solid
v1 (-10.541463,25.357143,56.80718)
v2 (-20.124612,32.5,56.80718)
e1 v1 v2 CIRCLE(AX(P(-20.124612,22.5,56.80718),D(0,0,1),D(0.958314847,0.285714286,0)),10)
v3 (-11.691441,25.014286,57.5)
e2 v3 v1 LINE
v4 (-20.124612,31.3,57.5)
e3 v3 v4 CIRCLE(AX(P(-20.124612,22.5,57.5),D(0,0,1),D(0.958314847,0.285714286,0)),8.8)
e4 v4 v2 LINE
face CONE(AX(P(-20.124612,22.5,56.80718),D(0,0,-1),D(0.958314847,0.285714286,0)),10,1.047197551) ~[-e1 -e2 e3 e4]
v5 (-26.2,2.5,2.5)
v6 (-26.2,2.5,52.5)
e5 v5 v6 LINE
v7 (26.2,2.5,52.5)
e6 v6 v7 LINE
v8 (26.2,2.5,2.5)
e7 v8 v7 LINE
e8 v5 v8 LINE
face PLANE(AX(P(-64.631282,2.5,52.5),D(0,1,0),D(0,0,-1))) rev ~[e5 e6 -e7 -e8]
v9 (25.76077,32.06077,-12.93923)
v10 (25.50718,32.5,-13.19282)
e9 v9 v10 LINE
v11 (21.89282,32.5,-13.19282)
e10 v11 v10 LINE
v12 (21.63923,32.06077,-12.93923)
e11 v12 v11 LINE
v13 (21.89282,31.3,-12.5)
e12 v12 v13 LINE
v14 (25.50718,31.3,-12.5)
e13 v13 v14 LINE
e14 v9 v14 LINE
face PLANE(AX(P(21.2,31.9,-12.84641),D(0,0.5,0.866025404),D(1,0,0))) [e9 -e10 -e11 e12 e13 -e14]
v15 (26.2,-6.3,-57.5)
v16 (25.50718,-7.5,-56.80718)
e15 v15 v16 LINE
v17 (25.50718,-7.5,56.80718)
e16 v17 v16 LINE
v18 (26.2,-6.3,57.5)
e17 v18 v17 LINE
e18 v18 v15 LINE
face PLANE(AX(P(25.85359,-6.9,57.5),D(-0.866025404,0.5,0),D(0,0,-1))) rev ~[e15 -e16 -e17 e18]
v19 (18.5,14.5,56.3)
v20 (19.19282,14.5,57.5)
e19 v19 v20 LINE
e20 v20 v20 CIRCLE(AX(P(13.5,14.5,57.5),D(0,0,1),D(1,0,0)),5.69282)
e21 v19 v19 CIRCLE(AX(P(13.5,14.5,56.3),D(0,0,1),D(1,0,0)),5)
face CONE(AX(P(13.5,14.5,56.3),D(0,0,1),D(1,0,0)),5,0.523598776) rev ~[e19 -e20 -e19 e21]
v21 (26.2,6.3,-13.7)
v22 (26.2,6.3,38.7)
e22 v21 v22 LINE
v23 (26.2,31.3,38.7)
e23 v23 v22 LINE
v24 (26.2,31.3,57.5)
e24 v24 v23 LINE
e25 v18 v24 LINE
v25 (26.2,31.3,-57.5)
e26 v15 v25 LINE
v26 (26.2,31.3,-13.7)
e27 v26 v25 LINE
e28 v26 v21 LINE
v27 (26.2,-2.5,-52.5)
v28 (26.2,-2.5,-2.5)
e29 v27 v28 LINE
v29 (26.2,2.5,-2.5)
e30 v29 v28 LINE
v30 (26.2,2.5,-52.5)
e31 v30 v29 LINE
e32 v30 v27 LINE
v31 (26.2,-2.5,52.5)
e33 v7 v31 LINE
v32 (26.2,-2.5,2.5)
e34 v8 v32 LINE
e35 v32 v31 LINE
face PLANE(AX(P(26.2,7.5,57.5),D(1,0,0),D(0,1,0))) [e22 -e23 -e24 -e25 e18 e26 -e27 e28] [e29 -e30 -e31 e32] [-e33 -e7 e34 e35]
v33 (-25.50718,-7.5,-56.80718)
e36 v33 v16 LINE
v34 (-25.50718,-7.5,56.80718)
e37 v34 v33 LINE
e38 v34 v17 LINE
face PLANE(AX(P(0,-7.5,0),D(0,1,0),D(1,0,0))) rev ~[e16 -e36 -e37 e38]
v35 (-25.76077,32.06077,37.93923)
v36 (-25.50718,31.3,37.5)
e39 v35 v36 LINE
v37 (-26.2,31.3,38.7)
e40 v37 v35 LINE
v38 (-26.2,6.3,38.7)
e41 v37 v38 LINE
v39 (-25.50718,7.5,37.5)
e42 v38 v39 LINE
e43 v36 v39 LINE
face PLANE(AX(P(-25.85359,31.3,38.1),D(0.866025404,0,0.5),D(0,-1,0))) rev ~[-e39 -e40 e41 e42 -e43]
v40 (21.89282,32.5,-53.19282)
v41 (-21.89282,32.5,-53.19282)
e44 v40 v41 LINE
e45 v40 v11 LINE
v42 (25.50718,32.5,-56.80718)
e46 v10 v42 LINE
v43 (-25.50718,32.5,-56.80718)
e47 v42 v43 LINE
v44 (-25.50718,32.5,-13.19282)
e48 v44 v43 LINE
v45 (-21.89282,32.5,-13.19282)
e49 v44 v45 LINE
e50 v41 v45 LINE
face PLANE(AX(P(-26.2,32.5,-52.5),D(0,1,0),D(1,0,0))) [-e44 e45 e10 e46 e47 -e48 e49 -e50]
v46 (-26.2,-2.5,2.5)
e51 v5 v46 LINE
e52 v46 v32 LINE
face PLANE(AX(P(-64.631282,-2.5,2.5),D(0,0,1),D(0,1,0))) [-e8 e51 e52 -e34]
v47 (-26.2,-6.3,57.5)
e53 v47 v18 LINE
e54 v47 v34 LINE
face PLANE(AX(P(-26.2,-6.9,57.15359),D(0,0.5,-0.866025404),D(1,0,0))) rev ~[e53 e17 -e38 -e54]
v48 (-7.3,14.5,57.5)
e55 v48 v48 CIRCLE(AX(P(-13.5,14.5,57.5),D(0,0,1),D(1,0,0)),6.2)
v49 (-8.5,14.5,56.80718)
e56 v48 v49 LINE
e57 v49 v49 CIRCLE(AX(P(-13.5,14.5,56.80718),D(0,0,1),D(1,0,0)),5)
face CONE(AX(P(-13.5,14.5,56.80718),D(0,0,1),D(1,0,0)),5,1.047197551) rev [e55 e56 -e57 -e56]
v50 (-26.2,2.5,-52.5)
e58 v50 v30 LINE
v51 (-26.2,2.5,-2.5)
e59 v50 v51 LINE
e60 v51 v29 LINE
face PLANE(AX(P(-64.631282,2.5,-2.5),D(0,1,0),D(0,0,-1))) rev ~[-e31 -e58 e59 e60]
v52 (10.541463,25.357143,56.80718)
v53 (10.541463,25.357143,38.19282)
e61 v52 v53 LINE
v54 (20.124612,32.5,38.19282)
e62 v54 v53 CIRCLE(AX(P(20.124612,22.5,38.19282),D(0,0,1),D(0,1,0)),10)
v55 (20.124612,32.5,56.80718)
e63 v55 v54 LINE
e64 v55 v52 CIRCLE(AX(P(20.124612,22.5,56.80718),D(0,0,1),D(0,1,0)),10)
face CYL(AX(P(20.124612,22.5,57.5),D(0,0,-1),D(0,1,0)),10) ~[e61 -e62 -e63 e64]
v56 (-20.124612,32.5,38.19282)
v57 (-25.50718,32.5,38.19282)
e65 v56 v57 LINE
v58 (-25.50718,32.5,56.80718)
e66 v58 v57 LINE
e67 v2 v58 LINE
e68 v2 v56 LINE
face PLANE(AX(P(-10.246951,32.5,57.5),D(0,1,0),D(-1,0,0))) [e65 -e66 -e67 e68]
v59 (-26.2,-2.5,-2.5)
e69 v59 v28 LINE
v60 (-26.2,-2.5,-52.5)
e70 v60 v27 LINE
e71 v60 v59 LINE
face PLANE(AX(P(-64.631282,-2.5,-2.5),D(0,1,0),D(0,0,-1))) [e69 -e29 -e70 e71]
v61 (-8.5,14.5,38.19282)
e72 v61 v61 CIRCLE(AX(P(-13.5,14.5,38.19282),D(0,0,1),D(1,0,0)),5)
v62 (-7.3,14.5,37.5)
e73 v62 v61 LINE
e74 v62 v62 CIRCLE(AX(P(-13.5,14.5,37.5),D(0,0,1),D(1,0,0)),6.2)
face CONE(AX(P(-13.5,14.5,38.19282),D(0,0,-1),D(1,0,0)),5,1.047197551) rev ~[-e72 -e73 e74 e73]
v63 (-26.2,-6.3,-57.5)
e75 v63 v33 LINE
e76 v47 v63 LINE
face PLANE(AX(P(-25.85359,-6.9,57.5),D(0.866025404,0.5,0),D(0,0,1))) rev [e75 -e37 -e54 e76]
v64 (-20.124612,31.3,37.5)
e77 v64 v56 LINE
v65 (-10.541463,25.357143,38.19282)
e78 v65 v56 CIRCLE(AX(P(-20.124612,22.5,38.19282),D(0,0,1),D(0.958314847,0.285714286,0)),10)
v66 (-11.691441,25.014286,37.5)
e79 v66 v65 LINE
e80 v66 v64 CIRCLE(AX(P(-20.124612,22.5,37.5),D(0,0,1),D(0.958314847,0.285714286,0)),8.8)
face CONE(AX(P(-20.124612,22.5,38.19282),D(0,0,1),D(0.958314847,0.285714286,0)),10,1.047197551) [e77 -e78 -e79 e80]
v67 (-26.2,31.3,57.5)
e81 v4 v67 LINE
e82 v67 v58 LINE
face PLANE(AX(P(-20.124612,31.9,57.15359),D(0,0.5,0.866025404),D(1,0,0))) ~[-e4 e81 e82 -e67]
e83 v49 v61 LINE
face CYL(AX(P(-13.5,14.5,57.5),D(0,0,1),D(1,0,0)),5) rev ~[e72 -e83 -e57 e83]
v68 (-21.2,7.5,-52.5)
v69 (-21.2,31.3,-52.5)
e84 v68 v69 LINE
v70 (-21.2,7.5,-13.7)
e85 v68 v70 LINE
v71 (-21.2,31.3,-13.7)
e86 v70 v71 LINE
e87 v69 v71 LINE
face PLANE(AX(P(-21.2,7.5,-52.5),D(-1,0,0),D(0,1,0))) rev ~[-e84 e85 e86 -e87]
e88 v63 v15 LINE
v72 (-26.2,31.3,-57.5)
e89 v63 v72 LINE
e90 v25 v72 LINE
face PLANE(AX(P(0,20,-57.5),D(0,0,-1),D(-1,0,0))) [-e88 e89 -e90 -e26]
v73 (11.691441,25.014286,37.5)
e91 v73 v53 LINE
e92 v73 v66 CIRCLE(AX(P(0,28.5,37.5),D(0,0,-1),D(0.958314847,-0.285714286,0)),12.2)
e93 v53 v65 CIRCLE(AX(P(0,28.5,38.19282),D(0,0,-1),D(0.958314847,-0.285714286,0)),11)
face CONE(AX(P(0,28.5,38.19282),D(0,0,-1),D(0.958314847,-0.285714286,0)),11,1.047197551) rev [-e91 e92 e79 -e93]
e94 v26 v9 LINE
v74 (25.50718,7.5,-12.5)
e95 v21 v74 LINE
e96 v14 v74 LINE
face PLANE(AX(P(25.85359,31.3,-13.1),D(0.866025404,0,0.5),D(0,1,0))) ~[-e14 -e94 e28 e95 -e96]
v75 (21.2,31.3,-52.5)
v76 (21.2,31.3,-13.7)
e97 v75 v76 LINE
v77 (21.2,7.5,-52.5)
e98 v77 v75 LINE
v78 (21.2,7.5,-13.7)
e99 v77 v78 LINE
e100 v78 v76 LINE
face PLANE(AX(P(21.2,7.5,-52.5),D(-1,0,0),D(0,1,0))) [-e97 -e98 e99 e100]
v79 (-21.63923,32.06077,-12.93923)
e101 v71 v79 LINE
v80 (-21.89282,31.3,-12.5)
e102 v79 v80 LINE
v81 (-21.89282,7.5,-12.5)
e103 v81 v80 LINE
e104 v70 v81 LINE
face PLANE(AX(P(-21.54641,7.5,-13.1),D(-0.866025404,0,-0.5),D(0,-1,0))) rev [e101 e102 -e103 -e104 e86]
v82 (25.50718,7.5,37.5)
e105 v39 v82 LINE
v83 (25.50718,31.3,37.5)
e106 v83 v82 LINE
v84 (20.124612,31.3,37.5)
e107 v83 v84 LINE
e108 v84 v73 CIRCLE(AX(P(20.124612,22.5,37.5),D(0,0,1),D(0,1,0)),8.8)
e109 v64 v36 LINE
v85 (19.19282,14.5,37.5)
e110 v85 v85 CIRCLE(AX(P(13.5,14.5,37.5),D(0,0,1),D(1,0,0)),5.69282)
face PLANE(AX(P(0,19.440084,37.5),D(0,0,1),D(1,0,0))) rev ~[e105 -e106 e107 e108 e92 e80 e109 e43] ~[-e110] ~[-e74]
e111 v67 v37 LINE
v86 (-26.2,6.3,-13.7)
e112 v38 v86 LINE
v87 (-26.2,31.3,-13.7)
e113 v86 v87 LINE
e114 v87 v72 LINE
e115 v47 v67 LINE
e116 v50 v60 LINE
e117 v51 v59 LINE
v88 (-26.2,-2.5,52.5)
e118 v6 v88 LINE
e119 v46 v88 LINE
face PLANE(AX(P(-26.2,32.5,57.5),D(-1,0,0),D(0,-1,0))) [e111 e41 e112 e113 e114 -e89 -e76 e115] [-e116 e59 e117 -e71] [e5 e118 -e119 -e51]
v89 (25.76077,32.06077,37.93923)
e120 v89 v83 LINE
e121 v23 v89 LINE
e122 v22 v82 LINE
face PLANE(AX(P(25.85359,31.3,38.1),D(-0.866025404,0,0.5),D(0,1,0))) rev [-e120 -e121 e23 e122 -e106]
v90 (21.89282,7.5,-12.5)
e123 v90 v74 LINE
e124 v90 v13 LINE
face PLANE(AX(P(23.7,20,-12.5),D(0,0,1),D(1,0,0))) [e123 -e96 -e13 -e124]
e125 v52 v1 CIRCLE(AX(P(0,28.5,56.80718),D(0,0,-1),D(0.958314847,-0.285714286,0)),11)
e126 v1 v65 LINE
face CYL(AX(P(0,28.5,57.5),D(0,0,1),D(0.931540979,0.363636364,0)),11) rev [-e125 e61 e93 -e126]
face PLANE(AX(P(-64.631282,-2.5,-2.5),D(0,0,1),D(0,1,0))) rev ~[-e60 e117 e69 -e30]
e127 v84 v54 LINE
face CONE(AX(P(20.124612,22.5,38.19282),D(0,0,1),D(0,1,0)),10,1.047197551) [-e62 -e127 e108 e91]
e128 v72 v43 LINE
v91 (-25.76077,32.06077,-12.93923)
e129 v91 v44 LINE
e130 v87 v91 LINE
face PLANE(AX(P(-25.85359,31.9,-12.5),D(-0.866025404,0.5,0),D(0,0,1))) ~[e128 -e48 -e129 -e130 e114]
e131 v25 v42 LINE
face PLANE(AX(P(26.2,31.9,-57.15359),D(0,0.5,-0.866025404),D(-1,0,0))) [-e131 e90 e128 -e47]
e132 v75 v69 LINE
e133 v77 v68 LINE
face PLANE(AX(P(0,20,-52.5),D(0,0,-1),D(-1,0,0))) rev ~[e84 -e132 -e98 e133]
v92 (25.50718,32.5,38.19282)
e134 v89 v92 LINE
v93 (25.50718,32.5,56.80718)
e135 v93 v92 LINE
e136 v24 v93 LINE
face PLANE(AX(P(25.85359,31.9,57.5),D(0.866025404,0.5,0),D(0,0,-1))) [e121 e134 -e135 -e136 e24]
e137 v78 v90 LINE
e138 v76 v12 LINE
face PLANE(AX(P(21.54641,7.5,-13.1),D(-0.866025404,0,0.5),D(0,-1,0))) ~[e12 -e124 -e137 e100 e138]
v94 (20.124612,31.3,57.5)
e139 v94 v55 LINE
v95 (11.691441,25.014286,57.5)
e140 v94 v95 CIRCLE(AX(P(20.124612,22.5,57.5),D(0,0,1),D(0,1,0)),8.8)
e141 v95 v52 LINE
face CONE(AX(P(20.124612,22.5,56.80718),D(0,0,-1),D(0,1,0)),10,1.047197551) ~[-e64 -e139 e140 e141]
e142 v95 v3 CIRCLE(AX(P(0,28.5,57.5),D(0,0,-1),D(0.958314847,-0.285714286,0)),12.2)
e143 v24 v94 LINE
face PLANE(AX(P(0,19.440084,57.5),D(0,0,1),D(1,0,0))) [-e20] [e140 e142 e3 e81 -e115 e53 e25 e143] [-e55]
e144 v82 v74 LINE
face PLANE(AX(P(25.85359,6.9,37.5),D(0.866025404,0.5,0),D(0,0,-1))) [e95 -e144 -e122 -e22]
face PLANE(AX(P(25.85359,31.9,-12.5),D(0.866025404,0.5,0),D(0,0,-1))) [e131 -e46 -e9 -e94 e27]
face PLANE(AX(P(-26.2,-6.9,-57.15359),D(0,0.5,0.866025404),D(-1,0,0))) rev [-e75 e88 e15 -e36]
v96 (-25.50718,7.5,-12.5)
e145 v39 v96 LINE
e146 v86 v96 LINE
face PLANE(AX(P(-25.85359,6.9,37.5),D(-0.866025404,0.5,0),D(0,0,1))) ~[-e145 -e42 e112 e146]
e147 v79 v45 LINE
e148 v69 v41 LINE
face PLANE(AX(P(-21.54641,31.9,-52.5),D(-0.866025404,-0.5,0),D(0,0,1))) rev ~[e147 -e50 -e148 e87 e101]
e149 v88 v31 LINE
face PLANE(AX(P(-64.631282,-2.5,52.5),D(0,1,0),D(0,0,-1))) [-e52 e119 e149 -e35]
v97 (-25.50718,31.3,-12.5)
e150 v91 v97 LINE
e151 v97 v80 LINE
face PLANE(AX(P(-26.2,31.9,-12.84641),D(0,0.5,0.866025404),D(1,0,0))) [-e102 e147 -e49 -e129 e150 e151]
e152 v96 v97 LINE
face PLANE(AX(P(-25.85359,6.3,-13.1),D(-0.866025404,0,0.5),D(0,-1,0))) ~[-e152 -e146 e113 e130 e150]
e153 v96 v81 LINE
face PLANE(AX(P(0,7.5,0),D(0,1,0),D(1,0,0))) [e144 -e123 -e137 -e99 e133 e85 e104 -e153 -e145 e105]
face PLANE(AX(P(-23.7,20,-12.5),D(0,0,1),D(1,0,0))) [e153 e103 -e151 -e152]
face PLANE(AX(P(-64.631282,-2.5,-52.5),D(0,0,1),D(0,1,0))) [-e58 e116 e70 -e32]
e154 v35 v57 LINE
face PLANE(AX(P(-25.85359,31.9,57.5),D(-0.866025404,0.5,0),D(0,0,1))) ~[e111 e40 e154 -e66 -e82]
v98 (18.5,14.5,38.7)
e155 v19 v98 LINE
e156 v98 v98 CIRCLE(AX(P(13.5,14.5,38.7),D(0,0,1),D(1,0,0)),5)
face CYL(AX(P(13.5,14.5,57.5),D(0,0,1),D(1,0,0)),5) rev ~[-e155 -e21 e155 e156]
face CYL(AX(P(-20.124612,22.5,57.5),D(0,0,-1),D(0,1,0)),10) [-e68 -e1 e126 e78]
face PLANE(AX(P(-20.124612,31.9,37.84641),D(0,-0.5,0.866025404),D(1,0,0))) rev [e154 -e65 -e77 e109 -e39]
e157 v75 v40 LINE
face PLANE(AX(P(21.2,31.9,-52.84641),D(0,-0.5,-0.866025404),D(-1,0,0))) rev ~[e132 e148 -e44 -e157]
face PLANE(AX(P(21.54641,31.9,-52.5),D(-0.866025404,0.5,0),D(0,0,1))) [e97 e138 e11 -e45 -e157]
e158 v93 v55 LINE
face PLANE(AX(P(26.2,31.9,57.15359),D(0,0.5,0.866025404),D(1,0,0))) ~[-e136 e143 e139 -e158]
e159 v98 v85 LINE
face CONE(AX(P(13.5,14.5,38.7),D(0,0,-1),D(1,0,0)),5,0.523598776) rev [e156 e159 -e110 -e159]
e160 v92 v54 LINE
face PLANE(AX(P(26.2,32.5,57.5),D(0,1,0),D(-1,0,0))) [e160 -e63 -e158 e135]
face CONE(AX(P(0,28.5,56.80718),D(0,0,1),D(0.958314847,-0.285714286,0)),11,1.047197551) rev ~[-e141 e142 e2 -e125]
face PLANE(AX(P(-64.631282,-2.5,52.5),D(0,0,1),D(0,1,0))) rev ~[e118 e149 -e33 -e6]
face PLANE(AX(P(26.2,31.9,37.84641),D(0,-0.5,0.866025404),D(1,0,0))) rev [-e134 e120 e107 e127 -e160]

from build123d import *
from OCP.BRepFilletAPI import BRepFilletAPI_MakeChamfer

# Parameters (mm, degrees)
SKETCH_1_W               = 52.4
SKETCH_1_H               = 115
EXTRUDE_1_DEPTH          = 7.5
CUT_EXTRUDE_1_DEPTH      = 64.631281615
CUT_EXTRUDE_1_DEPTH_BACK = 64.631281615
SKETCH_2_W               = 50
SKETCH_2_H               = 5
SKETCH_3_W               = 52.4
SKETCH_3_H               = 25
EXTRUDE_2_DEPTH          = 5
SKETCH_4_W               = 5
SKETCH_4_H               = 25
EXTRUDE_3_DEPTH          = 40
EXTRUDE_4_DEPTH          = 20
FILLET_1_R               = 10
SKETCH_7_R               = 5
CUT_EXTRUDE_2_DEPTH      = 20
CHAMFER_1_SIZE           = 1.2
CHAMFER_1_SIZE2          = 0.692820323
CHAMFER_2_SIZE           = 1.2
CHAMFER_2_SIZE2          = 0.692820323
CHAMFER_3_SIZE           = 1.2
CHAMFER_3_SIZE2          = 0.692820323
CHAMFER_4_SIZE           = 1.2
CHAMFER_4_SIZE2          = 0.692820323


with BuildPart() as part:
    # 스케치1 → 보스-돌출1 (new, symmetric)
    with BuildSketch(Plane(origin=(0, 0, 0), x_dir=(1, 0, 0), z_dir=(0, 1, 0))):
        Rectangle(SKETCH_1_W, SKETCH_1_H)
    extrude(amount=EXTRUDE_1_DEPTH, both=True)

    # 스케치2 → 컷-돌출1 (cut, two sides: drawn at the far end of the back side and taken through both)
    with BuildSketch(Plane(origin=(0, 0, 0), x_dir=(0, 0, -1), z_dir=(1, 0, 0)).offset(-CUT_EXTRUDE_1_DEPTH_BACK)):
        with Locations((27.5, 0)):
            Rectangle(SKETCH_2_W, SKETCH_2_H)
        with Locations((-27.5, 0)):
            Rectangle(SKETCH_2_W, SKETCH_2_H)
    extrude(amount=CUT_EXTRUDE_1_DEPTH + CUT_EXTRUDE_1_DEPTH_BACK, mode=Mode.SUBTRACT)

    # 스케치3 → 보스-돌출2 (add)
    with BuildSketch(Plane(origin=(0, 0, -57.5), x_dir=(-1, 0, 0), z_dir=(0, 0, -1))):
        with Locations((0, 20)):
            Rectangle(SKETCH_3_W, SKETCH_3_H)
    extrude(amount=-EXTRUDE_2_DEPTH)

    # 스케치4 → 보스-돌출3 (add)
    with BuildSketch(Plane.XY.offset(-52.5)):
        with Locations((-23.7, 20)):
            Rectangle(SKETCH_4_W, SKETCH_4_H)
        with Locations((23.7, 20)):
            Rectangle(SKETCH_4_W, SKETCH_4_H)
    extrude(amount=EXTRUDE_3_DEPTH)

    # 스케치5 → 보스-돌출4 (add)
    with BuildSketch(Plane.XY.offset(57.5)):
        with BuildLine():
            Line((-10.246950766, 32.5), (-26.2, 32.5))
            Line((-26.2, 32.5), (-26.2, 7.5))
            Line((-26.2, 7.5), (26.2, 7.5))
            Line((26.2, 7.5), (26.2, 32.5))
            Line((26.2, 32.5), (10.246950766, 32.5))
            ThreePointArc((10.246950766, 32.5), (0, 17.5), (-10.246950766, 32.5))
        make_face()
    extrude(amount=-EXTRUDE_4_DEPTH)

    # 필렛1
    fillet_1_edges = [part.edges().sort_by_distance(p)[0] for p in [
        (-10.246950766, 32.5, 47.5),
        (10.246950766, 32.5, 47.5),
    ]]
    fillet(fillet_1_edges, radius=FILLET_1_R)

    # 스케치7 → 컷-돌출2 (cut)
    with BuildSketch(Plane.XY.offset(57.5)):
        with Locations((-13.5, 14.5)):
            Circle(SKETCH_7_R)
        with Locations((13.5, 14.5)):
            Circle(SKETCH_7_R)
    extrude(amount=-CUT_EXTRUDE_2_DEPTH, mode=Mode.SUBTRACT)

    # 모따기1: one chamfer whose edges measure the first distance from different faces: ONE call of the kernel's chamfer builder (chamfer() names one face for all edges)
    chamfer_1_edges_1 = [part.edges().sort_by_distance(p)[0] for p in [
        (-23.162305899, 32.5, 57.5),
        (-14.148468751, 30.517837257, 57.5),
        (14.148468751, 30.517837257, 57.5),
        (0, -7.5, 57.5),
        (23.162305899, 32.5, 57.5),
        (0, 17.5, 57.5),
    ]]
    chamfer_1_side_1 = [part.faces().sort_by_distance(p)[0] for p in [
        (0, 9.670777652, 57.5),
    ]]
    chamfer_1_edges_2 = [part.edges().sort_by_distance(p)[0] for p in [
        (0, 17.5, 37.5),
        (-23.162305899, 32.5, 37.5),
        (-14.148468751, 30.517837257, 37.5),
        (14.148468751, 30.517837257, 37.5),
        (23.162305899, 32.5, 37.5),
    ]]
    chamfer_1_side_2 = [part.faces().sort_by_distance(p)[0] for p in [
        (-23.162305899, 31.919417534, 37.5),
    ]]
    chamfer_1_edges_3 = [part.edges().sort_by_distance(p)[0] for p in [
        (26.2, 32.5, -35),
        (26.2, -7.5, 0),
        (26.2, 32.5, 47.5),
    ]]
    chamfer_1_side_3 = [part.faces().sort_by_distance(p)[0] for p in [
        (26.2, 12.5, 56.282420434),
    ]]
    chamfer_1_edges_4 = [part.edges().sort_by_distance(p)[0] for p in [
        (-26.2, 32.5, -35),
        (-26.2, -7.5, 0),
        (-26.2, 32.5, 47.5),
    ]]
    chamfer_1_side_4 = [part.faces().sort_by_distance(p)[0] for p in [
        (-26.2, -6.282420434, 0),
    ]]
    chamfer_1_edges_5 = [part.edges().sort_by_distance(p)[0] for p in [
        (0, 32.5, -57.5),
        (0, -7.5, -57.5),
    ]]
    chamfer_1_side_5 = [part.faces().sort_by_distance(p)[0] for p in [
        (0, 12.5, -57.5),
    ]]
    chamfer_1_edges_6 = [part.edges().sort_by_distance(p)[0] for p in [
        (0, 32.5, -52.5),
    ]]
    chamfer_1_side_6 = [part.faces().sort_by_distance(p)[0] for p in [
        (0, 20, -52.5),
    ]]
    chamfer_1_edges_7 = [part.edges().sort_by_distance(p)[0] for p in [
        (-21.2, 32.5, -32.5),
    ]]
    chamfer_1_side_7 = [part.faces().sort_by_distance(p)[0] for p in [
        (-21.2, 20, -32.5),
    ]]
    chamfer_1_edges_8 = [part.edges().sort_by_distance(p)[0] for p in [
        (-23.7, 32.5, -12.5),
    ]]
    chamfer_1_side_8 = [part.faces().sort_by_distance(p)[0] for p in [
        (-23.7, 20, -12.5),
    ]]
    chamfer_1_edges_9 = [part.edges().sort_by_distance(p)[0] for p in [
        (21.2, 32.5, -32.5),
    ]]
    chamfer_1_side_9 = [part.faces().sort_by_distance(p)[0] for p in [
        (21.2, 20, -32.5),
    ]]
    chamfer_1_edges_10 = [part.edges().sort_by_distance(p)[0] for p in [
        (23.7, 32.5, -12.5),
    ]]
    chamfer_1_side_10 = [part.faces().sort_by_distance(p)[0] for p in [
        (23.7, 20, -12.5),
    ]]
    chamfer_1 = BRepFilletAPI_MakeChamfer(part.part.solid().wrapped)
    for e in chamfer_1_edges_1:
        chamfer_1.Add(CHAMFER_1_SIZE, CHAMFER_1_SIZE2, e.wrapped, chamfer_1_side_1[0].wrapped)  # the first distance lies on this face
    for e in chamfer_1_edges_2:
        chamfer_1.Add(CHAMFER_1_SIZE, CHAMFER_1_SIZE2, e.wrapped, chamfer_1_side_2[0].wrapped)  # the first distance lies on this face
    for e in chamfer_1_edges_3:
        chamfer_1.Add(CHAMFER_1_SIZE, CHAMFER_1_SIZE2, e.wrapped, chamfer_1_side_3[0].wrapped)  # the first distance lies on this face
    for e in chamfer_1_edges_4:
        chamfer_1.Add(CHAMFER_1_SIZE, CHAMFER_1_SIZE2, e.wrapped, chamfer_1_side_4[0].wrapped)  # the first distance lies on this face
    for e in chamfer_1_edges_5:
        chamfer_1.Add(CHAMFER_1_SIZE, CHAMFER_1_SIZE2, e.wrapped, chamfer_1_side_5[0].wrapped)  # the first distance lies on this face
    for e in chamfer_1_edges_6:
        chamfer_1.Add(CHAMFER_1_SIZE, CHAMFER_1_SIZE2, e.wrapped, chamfer_1_side_6[0].wrapped)  # the first distance lies on this face
    for e in chamfer_1_edges_7:
        chamfer_1.Add(CHAMFER_1_SIZE, CHAMFER_1_SIZE2, e.wrapped, chamfer_1_side_7[0].wrapped)  # the first distance lies on this face
    for e in chamfer_1_edges_8:
        chamfer_1.Add(CHAMFER_1_SIZE, CHAMFER_1_SIZE2, e.wrapped, chamfer_1_side_8[0].wrapped)  # the first distance lies on this face
    for e in chamfer_1_edges_9:
        chamfer_1.Add(CHAMFER_1_SIZE, CHAMFER_1_SIZE2, e.wrapped, chamfer_1_side_9[0].wrapped)  # the first distance lies on this face
    for e in chamfer_1_edges_10:
        chamfer_1.Add(CHAMFER_1_SIZE, CHAMFER_1_SIZE2, e.wrapped, chamfer_1_side_10[0].wrapped)  # the first distance lies on this face
    add(Compound.cast(chamfer_1.Shape()), mode=Mode.REPLACE)

    # 모따기2: one chamfer whose edges measure the first distance from different faces: ONE call of the kernel's chamfer builder (chamfer() names one face for all edges)
    chamfer_2_edges_1 = [part.edges().sort_by_distance(p)[0] for p in [
        (-18.5, 14.5, 37.5),
    ]]
    chamfer_2_side_1 = [part.faces().sort_by_distance(p)[0] for p in [
        (-25.624482841, 19.4, 37.5),
    ]]
    chamfer_2_edges_2 = [part.edges().sort_by_distance(p)[0] for p in [
        (-18.5, 14.5, 57.5),
    ]]
    chamfer_2_side_2 = [part.faces().sort_by_distance(p)[0] for p in [
        (0, 9.52416619, 57.5),
    ]]
    chamfer_2_edges_3 = [part.edges().sort_by_distance(p)[0] for p in [
        (8.5, 14.5, 37.5),
        (8.5, 14.5, 57.5),
    ]]
    chamfer_2_side_3 = [part.faces().sort_by_distance(p)[0] for p in [
        (8.5, 14.5, 47.5),
    ]]
    chamfer_2 = BRepFilletAPI_MakeChamfer(part.part.solid().wrapped)
    for e in chamfer_2_edges_1:
        chamfer_2.Add(CHAMFER_2_SIZE, CHAMFER_2_SIZE2, e.wrapped, chamfer_2_side_1[0].wrapped)  # the first distance lies on this face
    for e in chamfer_2_edges_2:
        chamfer_2.Add(CHAMFER_2_SIZE, CHAMFER_2_SIZE2, e.wrapped, chamfer_2_side_2[0].wrapped)  # the first distance lies on this face
    for e in chamfer_2_edges_3:
        chamfer_2.Add(CHAMFER_2_SIZE, CHAMFER_2_SIZE2, e.wrapped, chamfer_2_side_3[0].wrapped)  # the first distance lies on this face
    add(Compound.cast(chamfer_2.Shape()), mode=Mode.REPLACE)

    # 모따기3: one chamfer whose edges measure the first distance from different faces: ONE call of the kernel's chamfer builder (chamfer() names one face for all edges)
    chamfer_3_edges_1 = [part.edges().sort_by_distance(p)[0] for p in [
        (-26.2, 7.5, 12.5),
    ]]
    chamfer_3_side_1 = [part.faces().sort_by_distance(p)[0] for p in [
        (-26.2, 12.5, 56.290092566),
    ]]
    chamfer_3_edges_2 = [part.edges().sort_by_distance(p)[0] for p in [
        (26.2, 7.5, 12.5),
    ]]
    chamfer_3_side_2 = [part.faces().sort_by_distance(p)[0] for p in [
        (26.2, 12.5, 56.290092566),
    ]]
    chamfer_3 = BRepFilletAPI_MakeChamfer(part.part.solid().wrapped)
    for e in chamfer_3_edges_1:
        chamfer_3.Add(CHAMFER_3_SIZE, CHAMFER_3_SIZE2, e.wrapped, chamfer_3_side_1[0].wrapped)  # the first distance lies on this face
    for e in chamfer_3_edges_2:
        chamfer_3.Add(CHAMFER_3_SIZE, CHAMFER_3_SIZE2, e.wrapped, chamfer_3_side_2[0].wrapped)  # the first distance lies on this face
    add(Compound.cast(chamfer_3.Shape()), mode=Mode.REPLACE)

    # 모따기4: one chamfer whose edges measure the first distance from different faces: ONE call of the kernel's chamfer builder (chamfer() names one face for all edges)
    chamfer_4_edges_1 = [part.edges().sort_by_distance(p)[0] for p in [
        (26.2, 18.8, 37.5),
        (26.2, 18.8, -12.5),
    ]]
    chamfer_4_side_1 = [part.faces().sort_by_distance(p)[0] for p in [
        (26.2, 18.8, 38.709907434),
    ]]
    chamfer_4_edges_2 = [part.edges().sort_by_distance(p)[0] for p in [
        (-26.2, 18.8, 37.5),
        (-26.2, 18.8, -12.5),
    ]]
    chamfer_4_side_2 = [part.faces().sort_by_distance(p)[0] for p in [
        (-26.2, 18.8, -13.709907434),
    ]]
    chamfer_4_edges_3 = [part.edges().sort_by_distance(p)[0] for p in [
        (21.2, 19.4, -12.5),
    ]]
    chamfer_4_side_3 = [part.faces().sort_by_distance(p)[0] for p in [
        (21.2, 19.4, -32.5),
    ]]
    chamfer_4_edges_4 = [part.edges().sort_by_distance(p)[0] for p in [
        (-21.2, 19.4, -12.5),
    ]]
    chamfer_4_side_4 = [part.faces().sort_by_distance(p)[0] for p in [
        (-21.2, 19.4, -32.5),
    ]]
    chamfer_4 = BRepFilletAPI_MakeChamfer(part.part.solid().wrapped)
    for e in chamfer_4_edges_1:
        chamfer_4.Add(CHAMFER_4_SIZE, CHAMFER_4_SIZE2, e.wrapped, chamfer_4_side_1[0].wrapped)  # the first distance lies on this face
    for e in chamfer_4_edges_2:
        chamfer_4.Add(CHAMFER_4_SIZE, CHAMFER_4_SIZE2, e.wrapped, chamfer_4_side_2[0].wrapped)  # the first distance lies on this face
    for e in chamfer_4_edges_3:
        chamfer_4.Add(CHAMFER_4_SIZE, CHAMFER_4_SIZE2, e.wrapped, chamfer_4_side_3[0].wrapped)  # the first distance lies on this face
    for e in chamfer_4_edges_4:
        chamfer_4.Add(CHAMFER_4_SIZE, CHAMFER_4_SIZE2, e.wrapped, chamfer_4_side_4[0].wrapped)  # the first distance lies on this face
    add(Compound.cast(chamfer_4.Shape()), mode=Mode.REPLACE)


solid = part.part
